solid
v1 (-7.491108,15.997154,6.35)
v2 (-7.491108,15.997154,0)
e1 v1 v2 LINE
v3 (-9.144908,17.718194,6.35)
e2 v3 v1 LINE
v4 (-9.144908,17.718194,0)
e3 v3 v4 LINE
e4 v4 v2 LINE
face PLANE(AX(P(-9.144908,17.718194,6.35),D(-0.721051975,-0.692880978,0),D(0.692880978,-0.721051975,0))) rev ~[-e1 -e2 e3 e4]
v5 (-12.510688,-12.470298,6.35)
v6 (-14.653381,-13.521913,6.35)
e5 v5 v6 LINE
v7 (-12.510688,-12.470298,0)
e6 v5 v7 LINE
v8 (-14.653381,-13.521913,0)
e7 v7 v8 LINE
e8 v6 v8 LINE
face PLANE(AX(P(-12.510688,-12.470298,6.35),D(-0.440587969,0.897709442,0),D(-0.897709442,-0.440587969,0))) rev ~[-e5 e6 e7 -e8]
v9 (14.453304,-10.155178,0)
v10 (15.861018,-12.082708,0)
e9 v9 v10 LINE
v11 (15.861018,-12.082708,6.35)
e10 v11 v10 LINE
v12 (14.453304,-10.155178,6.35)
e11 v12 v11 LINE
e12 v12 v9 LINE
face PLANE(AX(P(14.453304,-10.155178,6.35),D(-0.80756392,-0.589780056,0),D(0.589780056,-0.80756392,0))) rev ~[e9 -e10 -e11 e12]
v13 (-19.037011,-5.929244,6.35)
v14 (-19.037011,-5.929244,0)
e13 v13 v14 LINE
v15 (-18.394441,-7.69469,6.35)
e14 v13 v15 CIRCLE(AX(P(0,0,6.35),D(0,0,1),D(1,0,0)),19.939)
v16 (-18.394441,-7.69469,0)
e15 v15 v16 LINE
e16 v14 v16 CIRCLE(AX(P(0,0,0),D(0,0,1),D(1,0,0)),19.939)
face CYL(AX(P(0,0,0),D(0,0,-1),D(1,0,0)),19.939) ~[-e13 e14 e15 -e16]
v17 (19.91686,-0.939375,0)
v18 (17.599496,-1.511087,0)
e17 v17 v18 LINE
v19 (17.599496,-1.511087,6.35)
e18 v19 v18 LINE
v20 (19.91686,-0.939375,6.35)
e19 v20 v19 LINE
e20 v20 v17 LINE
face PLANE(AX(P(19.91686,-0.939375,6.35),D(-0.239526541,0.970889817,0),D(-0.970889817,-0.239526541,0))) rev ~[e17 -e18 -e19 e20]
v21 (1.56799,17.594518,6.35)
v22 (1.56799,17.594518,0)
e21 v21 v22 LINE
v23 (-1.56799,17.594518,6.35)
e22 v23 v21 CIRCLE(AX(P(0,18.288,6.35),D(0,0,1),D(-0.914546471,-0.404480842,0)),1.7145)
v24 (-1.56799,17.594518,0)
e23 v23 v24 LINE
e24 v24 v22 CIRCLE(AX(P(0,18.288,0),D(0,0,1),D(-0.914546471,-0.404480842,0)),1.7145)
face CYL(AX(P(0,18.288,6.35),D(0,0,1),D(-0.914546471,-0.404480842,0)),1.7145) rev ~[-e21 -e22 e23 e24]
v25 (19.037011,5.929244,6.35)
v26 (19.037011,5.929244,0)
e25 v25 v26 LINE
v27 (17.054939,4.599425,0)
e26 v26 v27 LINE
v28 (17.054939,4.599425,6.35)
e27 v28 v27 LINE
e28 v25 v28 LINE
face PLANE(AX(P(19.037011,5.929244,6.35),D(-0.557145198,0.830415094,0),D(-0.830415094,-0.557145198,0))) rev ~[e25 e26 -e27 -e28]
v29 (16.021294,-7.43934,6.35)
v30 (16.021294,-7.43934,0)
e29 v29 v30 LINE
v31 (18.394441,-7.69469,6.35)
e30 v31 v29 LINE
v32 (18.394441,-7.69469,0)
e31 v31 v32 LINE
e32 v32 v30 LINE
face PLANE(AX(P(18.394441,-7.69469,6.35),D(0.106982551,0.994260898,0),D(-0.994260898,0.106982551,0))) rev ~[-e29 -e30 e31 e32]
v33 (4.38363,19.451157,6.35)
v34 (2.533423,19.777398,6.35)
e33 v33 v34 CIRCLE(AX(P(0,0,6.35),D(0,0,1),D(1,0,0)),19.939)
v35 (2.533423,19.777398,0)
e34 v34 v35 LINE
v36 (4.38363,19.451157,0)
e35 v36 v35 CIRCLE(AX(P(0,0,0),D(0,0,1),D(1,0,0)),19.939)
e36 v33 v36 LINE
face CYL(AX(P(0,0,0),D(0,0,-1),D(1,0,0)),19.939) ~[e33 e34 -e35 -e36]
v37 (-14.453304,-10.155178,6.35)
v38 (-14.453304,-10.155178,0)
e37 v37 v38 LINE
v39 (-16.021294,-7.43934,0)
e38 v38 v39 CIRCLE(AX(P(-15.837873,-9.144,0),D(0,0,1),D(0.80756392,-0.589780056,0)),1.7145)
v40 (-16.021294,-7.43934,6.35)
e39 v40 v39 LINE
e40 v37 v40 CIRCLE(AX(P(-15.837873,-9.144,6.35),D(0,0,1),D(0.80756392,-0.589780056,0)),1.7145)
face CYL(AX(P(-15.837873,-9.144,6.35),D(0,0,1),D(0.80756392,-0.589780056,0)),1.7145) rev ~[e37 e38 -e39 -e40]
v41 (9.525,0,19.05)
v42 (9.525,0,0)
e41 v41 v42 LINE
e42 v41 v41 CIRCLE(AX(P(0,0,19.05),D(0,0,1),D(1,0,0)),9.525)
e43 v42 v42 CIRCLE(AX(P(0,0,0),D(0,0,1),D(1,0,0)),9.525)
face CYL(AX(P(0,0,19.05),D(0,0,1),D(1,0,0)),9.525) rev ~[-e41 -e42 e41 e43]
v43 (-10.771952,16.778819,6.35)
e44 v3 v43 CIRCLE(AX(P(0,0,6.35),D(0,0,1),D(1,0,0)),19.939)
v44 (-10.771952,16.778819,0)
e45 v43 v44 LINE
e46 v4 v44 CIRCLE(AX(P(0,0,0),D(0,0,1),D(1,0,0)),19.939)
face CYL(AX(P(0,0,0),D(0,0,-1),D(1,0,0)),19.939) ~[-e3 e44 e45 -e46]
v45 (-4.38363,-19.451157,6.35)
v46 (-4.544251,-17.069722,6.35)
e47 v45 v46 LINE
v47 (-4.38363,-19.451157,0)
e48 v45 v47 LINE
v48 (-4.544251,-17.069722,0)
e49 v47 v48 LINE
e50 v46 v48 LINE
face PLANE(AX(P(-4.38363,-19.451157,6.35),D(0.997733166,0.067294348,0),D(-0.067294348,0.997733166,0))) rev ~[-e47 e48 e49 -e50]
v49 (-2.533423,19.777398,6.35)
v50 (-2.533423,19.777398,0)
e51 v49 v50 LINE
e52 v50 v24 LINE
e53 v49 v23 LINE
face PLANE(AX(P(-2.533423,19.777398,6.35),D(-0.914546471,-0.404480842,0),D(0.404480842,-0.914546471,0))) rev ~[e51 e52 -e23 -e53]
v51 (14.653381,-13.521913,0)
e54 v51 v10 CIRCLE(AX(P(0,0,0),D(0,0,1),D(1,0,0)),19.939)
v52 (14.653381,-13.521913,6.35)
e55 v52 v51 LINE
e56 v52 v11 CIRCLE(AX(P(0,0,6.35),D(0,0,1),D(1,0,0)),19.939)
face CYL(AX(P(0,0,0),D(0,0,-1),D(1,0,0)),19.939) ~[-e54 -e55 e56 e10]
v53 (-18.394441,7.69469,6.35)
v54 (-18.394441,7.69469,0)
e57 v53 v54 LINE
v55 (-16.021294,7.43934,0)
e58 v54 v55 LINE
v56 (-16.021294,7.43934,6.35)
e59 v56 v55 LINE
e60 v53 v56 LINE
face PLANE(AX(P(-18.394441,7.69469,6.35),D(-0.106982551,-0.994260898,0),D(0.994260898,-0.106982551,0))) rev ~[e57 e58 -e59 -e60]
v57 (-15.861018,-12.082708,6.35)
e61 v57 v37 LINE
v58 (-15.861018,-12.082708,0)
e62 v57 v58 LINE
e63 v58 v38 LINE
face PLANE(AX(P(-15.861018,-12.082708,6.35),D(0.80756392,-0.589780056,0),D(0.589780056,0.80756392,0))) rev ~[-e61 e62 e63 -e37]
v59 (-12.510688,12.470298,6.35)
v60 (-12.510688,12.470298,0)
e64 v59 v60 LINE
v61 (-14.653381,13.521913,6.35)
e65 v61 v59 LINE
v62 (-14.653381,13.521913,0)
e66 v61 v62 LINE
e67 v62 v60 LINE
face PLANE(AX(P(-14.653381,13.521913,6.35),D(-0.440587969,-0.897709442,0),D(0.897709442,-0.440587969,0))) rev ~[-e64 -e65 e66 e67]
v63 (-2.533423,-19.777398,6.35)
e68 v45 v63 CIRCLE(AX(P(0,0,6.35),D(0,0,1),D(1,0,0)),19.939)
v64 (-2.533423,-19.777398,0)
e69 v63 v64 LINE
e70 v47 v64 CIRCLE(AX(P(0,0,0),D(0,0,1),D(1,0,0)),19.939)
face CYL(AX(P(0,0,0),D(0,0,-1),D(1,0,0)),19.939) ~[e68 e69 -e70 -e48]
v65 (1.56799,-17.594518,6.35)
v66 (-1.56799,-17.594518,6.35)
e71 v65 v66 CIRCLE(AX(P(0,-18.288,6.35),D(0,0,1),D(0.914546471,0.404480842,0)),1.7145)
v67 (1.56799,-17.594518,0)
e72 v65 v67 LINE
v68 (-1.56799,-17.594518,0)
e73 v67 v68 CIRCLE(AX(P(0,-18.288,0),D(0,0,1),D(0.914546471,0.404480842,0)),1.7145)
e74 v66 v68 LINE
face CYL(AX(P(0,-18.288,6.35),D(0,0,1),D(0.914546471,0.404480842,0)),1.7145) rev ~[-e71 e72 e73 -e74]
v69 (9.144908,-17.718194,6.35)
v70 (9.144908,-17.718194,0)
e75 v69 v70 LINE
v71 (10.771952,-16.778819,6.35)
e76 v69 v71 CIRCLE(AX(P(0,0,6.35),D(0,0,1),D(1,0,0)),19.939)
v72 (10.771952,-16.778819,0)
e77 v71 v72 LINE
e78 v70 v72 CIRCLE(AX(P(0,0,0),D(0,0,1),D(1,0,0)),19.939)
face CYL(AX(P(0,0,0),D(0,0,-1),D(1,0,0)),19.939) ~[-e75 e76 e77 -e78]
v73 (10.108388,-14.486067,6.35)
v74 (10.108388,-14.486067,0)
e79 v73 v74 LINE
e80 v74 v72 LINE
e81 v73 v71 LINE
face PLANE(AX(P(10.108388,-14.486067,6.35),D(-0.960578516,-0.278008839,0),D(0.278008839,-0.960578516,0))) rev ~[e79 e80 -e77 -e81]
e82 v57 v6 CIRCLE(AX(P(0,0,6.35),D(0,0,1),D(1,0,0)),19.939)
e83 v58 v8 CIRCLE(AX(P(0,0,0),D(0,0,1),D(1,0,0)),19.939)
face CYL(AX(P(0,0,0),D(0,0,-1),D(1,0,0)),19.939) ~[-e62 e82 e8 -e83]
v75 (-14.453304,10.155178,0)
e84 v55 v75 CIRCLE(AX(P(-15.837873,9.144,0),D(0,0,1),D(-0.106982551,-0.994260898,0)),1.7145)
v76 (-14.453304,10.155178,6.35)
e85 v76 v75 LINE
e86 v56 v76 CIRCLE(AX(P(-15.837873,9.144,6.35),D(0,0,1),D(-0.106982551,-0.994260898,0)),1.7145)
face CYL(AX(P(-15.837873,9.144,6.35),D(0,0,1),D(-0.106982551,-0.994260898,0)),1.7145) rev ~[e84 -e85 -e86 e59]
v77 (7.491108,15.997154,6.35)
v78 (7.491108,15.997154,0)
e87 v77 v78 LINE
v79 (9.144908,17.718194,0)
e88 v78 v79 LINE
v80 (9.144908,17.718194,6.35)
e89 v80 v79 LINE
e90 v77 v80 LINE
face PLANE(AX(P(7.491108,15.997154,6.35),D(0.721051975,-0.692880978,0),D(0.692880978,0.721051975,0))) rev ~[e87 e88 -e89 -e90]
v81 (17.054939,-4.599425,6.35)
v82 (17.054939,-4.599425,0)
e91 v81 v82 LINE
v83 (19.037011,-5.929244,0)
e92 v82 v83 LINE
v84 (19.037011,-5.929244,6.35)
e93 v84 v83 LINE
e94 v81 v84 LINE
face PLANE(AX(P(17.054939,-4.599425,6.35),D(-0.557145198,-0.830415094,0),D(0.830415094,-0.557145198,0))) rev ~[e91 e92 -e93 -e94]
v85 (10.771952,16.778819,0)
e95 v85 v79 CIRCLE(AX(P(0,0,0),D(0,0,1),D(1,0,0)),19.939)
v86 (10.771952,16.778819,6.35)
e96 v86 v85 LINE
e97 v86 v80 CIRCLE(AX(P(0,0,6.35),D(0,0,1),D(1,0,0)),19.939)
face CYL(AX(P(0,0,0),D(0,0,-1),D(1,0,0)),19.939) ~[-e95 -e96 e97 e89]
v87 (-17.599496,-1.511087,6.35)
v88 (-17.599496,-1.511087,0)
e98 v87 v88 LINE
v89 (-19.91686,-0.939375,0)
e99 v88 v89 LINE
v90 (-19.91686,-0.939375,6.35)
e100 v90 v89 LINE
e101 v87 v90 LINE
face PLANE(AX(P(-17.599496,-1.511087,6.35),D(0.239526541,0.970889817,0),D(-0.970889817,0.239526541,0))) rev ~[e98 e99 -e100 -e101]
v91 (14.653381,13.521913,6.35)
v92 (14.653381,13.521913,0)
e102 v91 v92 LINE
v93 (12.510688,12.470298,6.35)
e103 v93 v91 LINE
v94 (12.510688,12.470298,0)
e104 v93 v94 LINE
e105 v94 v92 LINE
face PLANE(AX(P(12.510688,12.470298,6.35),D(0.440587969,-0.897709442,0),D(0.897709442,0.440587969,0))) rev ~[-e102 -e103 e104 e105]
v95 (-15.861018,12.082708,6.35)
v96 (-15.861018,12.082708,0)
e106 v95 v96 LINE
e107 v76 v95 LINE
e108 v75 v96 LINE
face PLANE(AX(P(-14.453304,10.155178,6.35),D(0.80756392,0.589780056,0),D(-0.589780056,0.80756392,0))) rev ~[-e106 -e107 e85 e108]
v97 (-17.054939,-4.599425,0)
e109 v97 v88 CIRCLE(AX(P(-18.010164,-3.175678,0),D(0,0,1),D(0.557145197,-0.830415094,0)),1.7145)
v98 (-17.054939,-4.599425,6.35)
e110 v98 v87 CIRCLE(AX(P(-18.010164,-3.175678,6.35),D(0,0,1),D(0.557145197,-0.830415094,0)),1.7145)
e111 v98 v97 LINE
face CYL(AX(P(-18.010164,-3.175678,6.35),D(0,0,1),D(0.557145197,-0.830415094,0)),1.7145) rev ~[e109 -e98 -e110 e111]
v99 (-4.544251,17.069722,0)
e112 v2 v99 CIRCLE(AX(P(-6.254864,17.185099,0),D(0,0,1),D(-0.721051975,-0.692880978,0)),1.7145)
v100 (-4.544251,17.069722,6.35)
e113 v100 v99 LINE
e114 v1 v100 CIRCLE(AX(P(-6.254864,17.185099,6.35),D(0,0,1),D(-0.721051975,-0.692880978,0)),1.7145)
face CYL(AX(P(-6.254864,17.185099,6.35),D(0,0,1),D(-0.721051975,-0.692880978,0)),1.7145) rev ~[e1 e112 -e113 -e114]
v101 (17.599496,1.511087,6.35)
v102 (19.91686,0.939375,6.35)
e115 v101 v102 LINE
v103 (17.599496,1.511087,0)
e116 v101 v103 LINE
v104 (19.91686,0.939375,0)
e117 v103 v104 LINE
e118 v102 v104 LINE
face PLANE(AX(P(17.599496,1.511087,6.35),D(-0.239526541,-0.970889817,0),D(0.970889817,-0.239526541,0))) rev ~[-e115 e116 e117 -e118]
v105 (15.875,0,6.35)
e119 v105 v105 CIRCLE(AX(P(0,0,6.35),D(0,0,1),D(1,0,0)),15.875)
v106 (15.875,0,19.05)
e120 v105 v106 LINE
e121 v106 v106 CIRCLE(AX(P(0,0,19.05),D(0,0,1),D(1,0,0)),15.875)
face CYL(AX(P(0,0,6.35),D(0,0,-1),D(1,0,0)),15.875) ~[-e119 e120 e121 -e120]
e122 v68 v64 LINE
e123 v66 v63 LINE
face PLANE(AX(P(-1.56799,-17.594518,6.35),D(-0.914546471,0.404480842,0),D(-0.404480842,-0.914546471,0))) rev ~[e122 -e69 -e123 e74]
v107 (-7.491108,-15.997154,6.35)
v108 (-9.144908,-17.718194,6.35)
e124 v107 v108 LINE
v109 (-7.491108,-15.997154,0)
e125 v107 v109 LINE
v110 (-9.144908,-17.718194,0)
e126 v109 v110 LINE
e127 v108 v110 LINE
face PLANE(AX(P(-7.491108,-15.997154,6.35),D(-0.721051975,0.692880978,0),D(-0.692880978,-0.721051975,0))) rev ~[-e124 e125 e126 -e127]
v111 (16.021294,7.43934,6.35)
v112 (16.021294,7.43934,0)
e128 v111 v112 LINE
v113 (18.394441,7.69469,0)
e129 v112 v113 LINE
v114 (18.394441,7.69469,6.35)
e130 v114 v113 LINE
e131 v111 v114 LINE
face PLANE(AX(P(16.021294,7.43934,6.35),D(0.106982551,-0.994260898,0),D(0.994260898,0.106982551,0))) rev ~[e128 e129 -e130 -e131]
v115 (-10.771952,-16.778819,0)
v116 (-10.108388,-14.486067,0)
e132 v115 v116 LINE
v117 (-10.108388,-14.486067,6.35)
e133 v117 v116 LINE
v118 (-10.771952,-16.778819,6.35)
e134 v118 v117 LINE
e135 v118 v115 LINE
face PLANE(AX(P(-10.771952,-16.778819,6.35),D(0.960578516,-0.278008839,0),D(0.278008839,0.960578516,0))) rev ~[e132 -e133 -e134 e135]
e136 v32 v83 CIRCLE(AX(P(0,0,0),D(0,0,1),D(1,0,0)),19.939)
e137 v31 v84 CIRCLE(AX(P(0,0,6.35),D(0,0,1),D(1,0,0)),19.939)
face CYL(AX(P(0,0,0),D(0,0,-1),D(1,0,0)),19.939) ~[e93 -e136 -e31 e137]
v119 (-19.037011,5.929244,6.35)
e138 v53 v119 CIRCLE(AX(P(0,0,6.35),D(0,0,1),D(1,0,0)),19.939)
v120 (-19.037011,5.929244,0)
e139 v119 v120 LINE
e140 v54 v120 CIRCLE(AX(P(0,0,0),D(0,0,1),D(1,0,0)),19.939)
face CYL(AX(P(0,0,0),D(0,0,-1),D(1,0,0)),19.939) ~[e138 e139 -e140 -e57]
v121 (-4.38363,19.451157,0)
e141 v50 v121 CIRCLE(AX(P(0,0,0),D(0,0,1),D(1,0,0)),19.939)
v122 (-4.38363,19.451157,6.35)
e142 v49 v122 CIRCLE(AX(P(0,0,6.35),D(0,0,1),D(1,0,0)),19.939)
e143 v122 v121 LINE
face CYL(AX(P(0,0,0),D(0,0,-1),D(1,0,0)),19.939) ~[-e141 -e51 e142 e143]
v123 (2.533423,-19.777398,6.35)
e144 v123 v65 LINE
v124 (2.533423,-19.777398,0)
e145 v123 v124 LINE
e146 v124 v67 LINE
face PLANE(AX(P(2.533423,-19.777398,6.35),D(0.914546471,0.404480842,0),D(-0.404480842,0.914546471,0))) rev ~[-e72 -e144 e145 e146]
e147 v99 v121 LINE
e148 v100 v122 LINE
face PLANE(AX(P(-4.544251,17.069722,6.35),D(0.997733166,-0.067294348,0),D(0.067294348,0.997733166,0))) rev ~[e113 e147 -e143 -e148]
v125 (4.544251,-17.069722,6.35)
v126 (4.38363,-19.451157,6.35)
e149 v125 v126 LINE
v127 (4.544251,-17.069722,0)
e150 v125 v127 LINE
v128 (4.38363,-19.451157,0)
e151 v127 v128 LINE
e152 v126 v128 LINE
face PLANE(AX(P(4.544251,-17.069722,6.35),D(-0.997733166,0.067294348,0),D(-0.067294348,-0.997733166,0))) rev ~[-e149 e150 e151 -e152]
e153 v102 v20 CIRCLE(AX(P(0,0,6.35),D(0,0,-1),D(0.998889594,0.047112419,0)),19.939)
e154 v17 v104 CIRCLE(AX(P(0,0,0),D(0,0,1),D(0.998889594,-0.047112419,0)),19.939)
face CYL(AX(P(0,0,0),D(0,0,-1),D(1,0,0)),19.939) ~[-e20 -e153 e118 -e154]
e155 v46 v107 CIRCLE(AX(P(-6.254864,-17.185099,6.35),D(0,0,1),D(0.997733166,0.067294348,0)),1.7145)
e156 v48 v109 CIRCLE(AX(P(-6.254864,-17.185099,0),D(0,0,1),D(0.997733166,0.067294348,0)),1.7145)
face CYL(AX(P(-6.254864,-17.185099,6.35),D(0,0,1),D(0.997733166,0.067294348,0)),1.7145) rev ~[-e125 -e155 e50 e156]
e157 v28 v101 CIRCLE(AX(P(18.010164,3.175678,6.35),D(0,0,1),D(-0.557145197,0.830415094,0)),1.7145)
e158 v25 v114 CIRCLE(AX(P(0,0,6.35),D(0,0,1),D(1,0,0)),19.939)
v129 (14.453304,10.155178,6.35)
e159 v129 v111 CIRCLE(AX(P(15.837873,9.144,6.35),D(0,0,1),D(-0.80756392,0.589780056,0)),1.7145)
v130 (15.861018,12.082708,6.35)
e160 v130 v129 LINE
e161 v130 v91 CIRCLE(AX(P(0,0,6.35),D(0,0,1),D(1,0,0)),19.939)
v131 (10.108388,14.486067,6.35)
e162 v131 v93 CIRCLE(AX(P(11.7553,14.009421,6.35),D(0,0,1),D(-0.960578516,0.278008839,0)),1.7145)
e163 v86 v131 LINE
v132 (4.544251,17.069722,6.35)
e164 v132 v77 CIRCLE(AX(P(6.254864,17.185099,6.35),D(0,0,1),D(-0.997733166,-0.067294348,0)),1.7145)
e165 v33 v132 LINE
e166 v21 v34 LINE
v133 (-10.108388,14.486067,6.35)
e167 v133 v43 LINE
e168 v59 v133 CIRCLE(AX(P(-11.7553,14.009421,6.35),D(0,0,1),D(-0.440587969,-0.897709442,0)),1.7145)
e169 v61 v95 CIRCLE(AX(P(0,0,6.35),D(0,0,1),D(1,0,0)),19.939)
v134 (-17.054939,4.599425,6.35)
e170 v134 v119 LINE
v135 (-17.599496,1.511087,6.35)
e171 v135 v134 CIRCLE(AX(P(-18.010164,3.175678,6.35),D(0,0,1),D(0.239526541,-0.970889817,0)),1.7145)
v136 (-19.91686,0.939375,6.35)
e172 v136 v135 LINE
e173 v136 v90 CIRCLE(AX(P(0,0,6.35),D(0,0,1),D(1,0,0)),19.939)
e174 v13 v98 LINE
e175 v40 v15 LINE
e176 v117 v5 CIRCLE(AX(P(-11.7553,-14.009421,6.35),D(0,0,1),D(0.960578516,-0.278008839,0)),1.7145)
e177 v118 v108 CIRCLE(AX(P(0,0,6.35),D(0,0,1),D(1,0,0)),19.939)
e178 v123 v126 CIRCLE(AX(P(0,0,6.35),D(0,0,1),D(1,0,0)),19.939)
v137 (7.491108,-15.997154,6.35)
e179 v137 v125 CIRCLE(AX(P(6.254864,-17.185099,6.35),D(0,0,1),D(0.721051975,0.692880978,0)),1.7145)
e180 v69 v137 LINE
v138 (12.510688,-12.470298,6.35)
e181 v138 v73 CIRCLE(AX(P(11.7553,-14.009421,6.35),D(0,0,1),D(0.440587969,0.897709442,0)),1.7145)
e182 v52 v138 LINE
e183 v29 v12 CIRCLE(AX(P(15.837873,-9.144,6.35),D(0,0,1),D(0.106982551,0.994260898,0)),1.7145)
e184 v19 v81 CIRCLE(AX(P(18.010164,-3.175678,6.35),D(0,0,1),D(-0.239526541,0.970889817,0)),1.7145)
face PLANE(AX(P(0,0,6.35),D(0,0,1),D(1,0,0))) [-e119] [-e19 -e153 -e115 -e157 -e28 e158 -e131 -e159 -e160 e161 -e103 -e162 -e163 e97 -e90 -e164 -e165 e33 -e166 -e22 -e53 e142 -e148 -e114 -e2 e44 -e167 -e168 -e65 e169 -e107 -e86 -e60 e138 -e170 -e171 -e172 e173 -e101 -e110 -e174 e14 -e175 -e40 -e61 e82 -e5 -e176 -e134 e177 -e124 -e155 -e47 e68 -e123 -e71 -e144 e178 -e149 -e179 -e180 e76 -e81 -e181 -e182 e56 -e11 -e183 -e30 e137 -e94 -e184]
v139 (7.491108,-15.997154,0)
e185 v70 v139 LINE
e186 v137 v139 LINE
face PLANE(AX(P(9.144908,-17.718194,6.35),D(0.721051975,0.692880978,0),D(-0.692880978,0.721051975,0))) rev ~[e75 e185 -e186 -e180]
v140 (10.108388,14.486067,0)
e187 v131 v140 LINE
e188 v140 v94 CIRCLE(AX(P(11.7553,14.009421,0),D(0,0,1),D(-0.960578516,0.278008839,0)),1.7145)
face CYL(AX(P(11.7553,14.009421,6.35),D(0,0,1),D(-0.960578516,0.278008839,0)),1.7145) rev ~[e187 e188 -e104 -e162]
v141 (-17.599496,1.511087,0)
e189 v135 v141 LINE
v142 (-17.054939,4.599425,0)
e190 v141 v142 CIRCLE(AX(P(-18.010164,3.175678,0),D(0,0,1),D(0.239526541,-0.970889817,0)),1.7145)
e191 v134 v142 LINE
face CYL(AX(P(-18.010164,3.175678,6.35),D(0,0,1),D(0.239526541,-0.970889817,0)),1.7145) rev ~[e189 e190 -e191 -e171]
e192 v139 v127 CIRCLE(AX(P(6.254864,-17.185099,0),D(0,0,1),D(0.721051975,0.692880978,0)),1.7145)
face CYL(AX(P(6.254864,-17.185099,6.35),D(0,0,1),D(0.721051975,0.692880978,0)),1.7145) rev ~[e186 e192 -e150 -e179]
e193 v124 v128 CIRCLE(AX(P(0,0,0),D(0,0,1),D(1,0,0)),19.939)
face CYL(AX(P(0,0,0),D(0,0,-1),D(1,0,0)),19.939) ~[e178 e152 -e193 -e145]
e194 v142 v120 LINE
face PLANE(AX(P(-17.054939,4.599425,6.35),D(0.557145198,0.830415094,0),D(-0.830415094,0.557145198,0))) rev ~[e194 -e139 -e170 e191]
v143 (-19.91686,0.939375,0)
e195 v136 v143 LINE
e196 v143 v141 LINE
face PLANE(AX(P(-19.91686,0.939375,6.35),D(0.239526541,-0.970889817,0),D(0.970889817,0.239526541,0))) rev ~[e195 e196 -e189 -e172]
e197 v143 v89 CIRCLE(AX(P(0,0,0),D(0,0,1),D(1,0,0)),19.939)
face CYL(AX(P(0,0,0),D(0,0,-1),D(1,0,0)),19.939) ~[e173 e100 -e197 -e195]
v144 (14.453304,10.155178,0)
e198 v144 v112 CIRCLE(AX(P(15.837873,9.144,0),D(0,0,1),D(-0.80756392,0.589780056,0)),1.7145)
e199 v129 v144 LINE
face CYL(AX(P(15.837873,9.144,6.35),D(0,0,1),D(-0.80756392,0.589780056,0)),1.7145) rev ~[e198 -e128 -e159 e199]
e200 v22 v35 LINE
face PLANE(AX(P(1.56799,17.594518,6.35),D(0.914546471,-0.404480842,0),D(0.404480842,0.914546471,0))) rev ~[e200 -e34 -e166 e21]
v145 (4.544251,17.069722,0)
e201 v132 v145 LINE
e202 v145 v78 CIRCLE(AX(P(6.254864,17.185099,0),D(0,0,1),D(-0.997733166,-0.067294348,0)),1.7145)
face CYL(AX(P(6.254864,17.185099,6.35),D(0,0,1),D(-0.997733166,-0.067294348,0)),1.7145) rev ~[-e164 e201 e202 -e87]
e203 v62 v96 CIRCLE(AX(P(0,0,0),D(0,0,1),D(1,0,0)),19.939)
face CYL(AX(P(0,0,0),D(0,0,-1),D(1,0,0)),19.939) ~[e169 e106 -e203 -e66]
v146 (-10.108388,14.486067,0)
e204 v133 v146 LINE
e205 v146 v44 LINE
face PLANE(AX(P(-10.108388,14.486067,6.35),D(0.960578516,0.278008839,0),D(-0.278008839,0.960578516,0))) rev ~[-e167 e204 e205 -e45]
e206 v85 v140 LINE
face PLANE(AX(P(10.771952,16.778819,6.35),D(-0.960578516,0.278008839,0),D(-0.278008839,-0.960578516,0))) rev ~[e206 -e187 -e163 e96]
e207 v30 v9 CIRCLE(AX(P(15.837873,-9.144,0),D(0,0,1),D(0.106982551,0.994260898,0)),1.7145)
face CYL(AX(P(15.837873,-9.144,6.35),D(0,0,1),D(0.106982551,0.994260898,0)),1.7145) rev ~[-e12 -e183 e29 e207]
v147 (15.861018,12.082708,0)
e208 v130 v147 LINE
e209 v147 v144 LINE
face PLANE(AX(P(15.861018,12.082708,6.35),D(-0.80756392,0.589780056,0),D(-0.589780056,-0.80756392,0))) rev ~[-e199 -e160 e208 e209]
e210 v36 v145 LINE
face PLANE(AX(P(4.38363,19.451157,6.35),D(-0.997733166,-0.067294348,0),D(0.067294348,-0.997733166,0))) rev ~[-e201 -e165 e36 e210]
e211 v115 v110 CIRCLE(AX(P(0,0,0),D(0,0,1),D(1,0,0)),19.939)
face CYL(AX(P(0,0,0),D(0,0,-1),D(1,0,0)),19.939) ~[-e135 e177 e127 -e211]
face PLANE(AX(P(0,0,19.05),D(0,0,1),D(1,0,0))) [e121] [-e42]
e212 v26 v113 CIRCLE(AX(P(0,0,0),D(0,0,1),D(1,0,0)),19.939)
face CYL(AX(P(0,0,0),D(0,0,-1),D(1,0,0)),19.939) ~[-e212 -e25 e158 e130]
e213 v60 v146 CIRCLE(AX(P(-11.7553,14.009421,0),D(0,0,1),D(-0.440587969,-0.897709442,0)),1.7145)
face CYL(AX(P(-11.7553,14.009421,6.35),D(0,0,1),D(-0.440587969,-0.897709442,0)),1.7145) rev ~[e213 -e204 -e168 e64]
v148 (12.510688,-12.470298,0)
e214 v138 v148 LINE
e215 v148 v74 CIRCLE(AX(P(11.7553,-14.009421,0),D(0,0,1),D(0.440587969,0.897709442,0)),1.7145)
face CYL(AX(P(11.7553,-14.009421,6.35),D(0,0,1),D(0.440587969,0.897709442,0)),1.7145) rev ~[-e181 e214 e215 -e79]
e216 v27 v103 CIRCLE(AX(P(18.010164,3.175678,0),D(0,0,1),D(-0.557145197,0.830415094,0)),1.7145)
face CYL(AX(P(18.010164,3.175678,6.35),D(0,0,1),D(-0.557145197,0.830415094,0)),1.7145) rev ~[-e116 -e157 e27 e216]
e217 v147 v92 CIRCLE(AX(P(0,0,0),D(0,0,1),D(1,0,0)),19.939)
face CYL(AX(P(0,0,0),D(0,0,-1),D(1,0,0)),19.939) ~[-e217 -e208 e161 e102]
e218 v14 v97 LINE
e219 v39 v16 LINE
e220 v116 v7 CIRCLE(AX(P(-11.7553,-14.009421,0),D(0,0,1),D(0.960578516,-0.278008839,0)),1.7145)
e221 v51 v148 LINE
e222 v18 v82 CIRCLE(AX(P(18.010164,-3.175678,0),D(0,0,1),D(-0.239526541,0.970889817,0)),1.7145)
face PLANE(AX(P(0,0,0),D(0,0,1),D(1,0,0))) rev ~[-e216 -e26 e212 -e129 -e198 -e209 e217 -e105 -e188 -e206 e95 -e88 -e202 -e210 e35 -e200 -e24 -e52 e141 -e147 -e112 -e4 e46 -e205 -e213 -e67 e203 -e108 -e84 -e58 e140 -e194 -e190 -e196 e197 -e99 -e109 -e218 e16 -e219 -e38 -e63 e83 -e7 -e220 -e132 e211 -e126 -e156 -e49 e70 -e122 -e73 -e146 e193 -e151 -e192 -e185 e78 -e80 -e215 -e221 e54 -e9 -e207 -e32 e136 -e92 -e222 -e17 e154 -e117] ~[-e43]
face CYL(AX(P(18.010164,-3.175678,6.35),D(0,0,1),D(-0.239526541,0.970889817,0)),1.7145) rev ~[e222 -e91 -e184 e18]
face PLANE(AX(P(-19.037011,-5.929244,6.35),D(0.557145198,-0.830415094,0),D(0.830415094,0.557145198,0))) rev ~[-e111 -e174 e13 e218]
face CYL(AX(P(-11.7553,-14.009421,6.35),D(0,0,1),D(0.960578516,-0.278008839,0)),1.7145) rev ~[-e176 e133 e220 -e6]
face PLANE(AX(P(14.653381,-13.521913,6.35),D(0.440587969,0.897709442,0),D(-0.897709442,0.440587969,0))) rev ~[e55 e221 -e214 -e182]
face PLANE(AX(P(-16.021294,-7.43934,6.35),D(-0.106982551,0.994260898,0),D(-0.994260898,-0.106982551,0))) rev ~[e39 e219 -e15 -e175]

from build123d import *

# Parameters (mm, degrees)
F0_R     = 19.939
F1_DEPTH = 6.35
F2_R     = 15.875
F3_DEPTH = 12.7
F4_R     = 9.525
F5_DEPTH = 25.4
F7_DEPTH = 25.4


with BuildPart() as f1:
    # F0 (on Top) → F1 (new body)
    with BuildSketch(Plane.XY):
        Circle(F0_R)
    extrude(amount=F1_DEPTH)

    # F2 (on face) → F3 (join)
    with BuildSketch(Plane.XY.offset(6.35)):
        Circle(F2_R)
    extrude(amount=F3_DEPTH)

    # F4 (on face) → F5 (cut)
    with BuildSketch(Plane.XY.offset(19.05)):
        Circle(F4_R)
    extrude(amount=-F5_DEPTH, mode=Mode.SUBTRACT)

    # F6 (on face) → F7 (cut)
    with BuildSketch(Plane.XY.offset(6.35)):
        with BuildLine():
            Line((-2.5334230713, 19.777398427), (-1.5679899251, 17.5945175959))
            ThreePointArc((-1.5679899251, 17.5945175959), (0, 16.5735), (1.5679899251, 17.5945175959))
            Line((1.5679899251, 17.5945175959), (2.5334230713, 19.777398427))
            ThreePointArc((2.5334230713, 19.777398427), (0, 19.939), (-2.5334230713, 19.777398427))
        make_face()
        with BuildLine():
            ThreePointArc((9.1449076101, 17.7181936383), (6.8195396378, 18.7365311659), (4.3836296792, 19.4511570822))
            Line((4.3836296792, 19.4511570822), (4.5442508678, 17.0697224901))
            ThreePointArc((4.5442508678, 17.0697224901), (5.6684708454, 15.5739956506), (7.491107992, 15.9971542122))
            Line((7.491107992, 15.9971542122), (9.1449076101, 17.7181936383))
        make_face()
        with BuildLine():
            ThreePointArc((14.6533813266, 13.521913204), (12.8165421495, 15.2741601513), (10.7719519949, 16.7788191247))
            Line((10.7719519949, 16.7788191247), (10.1083879401, 14.4860669297))
            ThreePointArc((10.1083879401, 14.4860669297), (10.6532404491, 12.696037578), (12.5106878781, 12.4702979377))
            Line((12.5106878781, 12.4702979377), (14.6533813266, 13.521913204))
        make_face()
        with BuildLine():
            ThreePointArc((18.3944409942, 7.6946904752), (17.2676805261, 9.9695), (15.8610179229, 12.0827079518))
            Line((15.8610179229, 12.0827079518), (14.4533042428, 10.155177906))
            ThreePointArc((14.4533042428, 10.155177906), (14.3530720296, 8.28675), (16.0212941679, 7.4393396899))
            Line((16.0212941679, 7.4393396899), (18.3944409942, 7.6946904752))
        make_face()
        with BuildLine():
            ThreePointArc((19.9168596049, 0.9393745136), (19.6360817873, 3.4623710145), (19.0370110058, 5.9292438781))
            Line((19.0370110058, 5.9292438781), (17.0549387459, 4.5994245523))
            ThreePointArc((17.0549387459, 4.5994245523), (16.3217112945, 2.8779580726), (17.5994959321, 1.5110872826))
            Line((17.5994959321, 1.5110872826), (19.9168596049, 0.9393745136))
        make_face()
        with BuildLine():
            ThreePointArc((19.0370110058, -5.9292438781), (19.6360817873, -3.4623710145), (19.9168596049, -0.9393745136))
            Line((19.9168596049, -0.9393745136), (17.5994959321, -1.5110872826))
            ThreePointArc((17.5994959321, -1.5110872826), (16.3217112945, -2.8779580726), (17.0549387459, -4.5994245523))
            Line((17.0549387459, -4.5994245523), (19.0370110058, -5.9292438781))
        make_face()
        with BuildLine():
            ThreePointArc((15.8610179229, -12.0827079518), (17.2676805261, -9.9695), (18.3944409942, -7.6946904752))
            Line((18.3944409942, -7.6946904752), (16.0212941679, -7.4393396899))
            ThreePointArc((16.0212941679, -7.4393396899), (14.3530720296, -8.28675), (14.4533042428, -10.155177906))
            Line((14.4533042428, -10.155177906), (15.8610179229, -12.0827079518))
        make_face()
        with BuildLine():
            ThreePointArc((10.7719519949, -16.7788191247), (12.8165421495, -15.2741601513), (14.6533813266, -13.521913204))
            Line((14.6533813266, -13.521913204), (12.5106878781, -12.4702979377))
            ThreePointArc((12.5106878781, -12.4702979377), (10.6532404491, -12.696037578), (10.1083879401, -14.4860669297))
            Line((10.1083879401, -14.4860669297), (10.7719519949, -16.7788191247))
        make_face()
        with BuildLine():
            ThreePointArc((4.3836296792, -19.4511570822), (6.8195396378, -18.7365311659), (9.1449076101, -17.7181936383))
            Line((9.1449076101, -17.7181936383), (7.491107992, -15.9971542122))
            ThreePointArc((7.491107992, -15.9971542122), (5.6684708454, -15.5739956506), (4.5442508678, -17.0697224901))
            Line((4.5442508678, -17.0697224901), (4.3836296792, -19.4511570822))
        make_face()
        with BuildLine():
            Line((-1.5679899251, -17.5945175959), (-2.5334230713, -19.777398427))
            ThreePointArc((-2.5334230713, -19.777398427), (0, -19.939), (2.5334230713, -19.777398427))
            Line((2.5334230713, -19.777398427), (1.5679899251, -17.5945175959))
            ThreePointArc((1.5679899251, -17.5945175959), (0, -16.5735), (-1.5679899251, -17.5945175959))
        make_face()
        with BuildLine():
            Line((-7.491107992, -15.9971542122), (-9.1449076101, -17.7181936383))
            ThreePointArc((-9.1449076101, -17.7181936383), (-6.8195396378, -18.7365311659), (-4.3836296792, -19.4511570822))
            Line((-4.3836296792, -19.4511570822), (-4.5442508678, -17.0697224901))
            ThreePointArc((-4.5442508678, -17.0697224901), (-5.6684708454, -15.5739956506), (-7.491107992, -15.9971542122))
        make_face()
        with BuildLine():
            Line((-12.5106878781, -12.4702979377), (-14.6533813266, -13.521913204))
            ThreePointArc((-14.6533813266, -13.521913204), (-12.8165421495, -15.2741601513), (-10.7719519949, -16.7788191247))
            Line((-10.7719519949, -16.7788191247), (-10.1083879401, -14.4860669297))
            ThreePointArc((-10.1083879401, -14.4860669297), (-10.6532404491, -12.696037578), (-12.5106878781, -12.4702979377))
        make_face()
        with BuildLine():
            Line((-16.0212941679, -7.4393396899), (-18.3944409942, -7.6946904752))
            ThreePointArc((-18.3944409942, -7.6946904752), (-17.2676805261, -9.9695), (-15.8610179229, -12.0827079518))
            Line((-15.8610179229, -12.0827079518), (-14.4533042428, -10.155177906))
            ThreePointArc((-14.4533042428, -10.155177906), (-14.3530720296, -8.28675), (-16.0212941679, -7.4393396899))
        make_face()
        with BuildLine():
            Line((-17.5994959321, -1.5110872826), (-19.9168596049, -0.9393745136))
            ThreePointArc((-19.9168596049, -0.9393745136), (-19.6360817873, -3.4623710145), (-19.0370110058, -5.9292438781))
            Line((-19.0370110058, -5.9292438781), (-17.0549387459, -4.5994245523))
            ThreePointArc((-17.0549387459, -4.5994245523), (-16.3217112945, -2.8779580726), (-17.5994959321, -1.5110872826))
        make_face()
        with BuildLine():
            Line((-17.0549387459, 4.5994245523), (-19.0370110058, 5.9292438781))
            ThreePointArc((-19.0370110058, 5.9292438781), (-19.6360817873, 3.4623710145), (-19.9168596049, 0.9393745136))
            Line((-19.9168596049, 0.9393745136), (-17.5994959321, 1.5110872826))
            ThreePointArc((-17.5994959321, 1.5110872826), (-16.3217112945, 2.8779580726), (-17.0549387459, 4.5994245523))
        make_face()
        with BuildLine():
            Line((-14.4533042428, 10.155177906), (-15.8610179229, 12.0827079518))
            ThreePointArc((-15.8610179229, 12.0827079518), (-17.2676805261, 9.9695), (-18.3944409942, 7.6946904752))
            Line((-18.3944409942, 7.6946904752), (-16.0212941679, 7.4393396899))
            ThreePointArc((-16.0212941679, 7.4393396899), (-14.3530720296, 8.28675), (-14.4533042428, 10.155177906))
        make_face()
        with BuildLine():
            Line((-10.1083879401, 14.4860669297), (-10.7719519949, 16.7788191247))
            ThreePointArc((-10.7719519949, 16.7788191247), (-12.8165421495, 15.2741601513), (-14.6533813266, 13.521913204))
            Line((-14.6533813266, 13.521913204), (-12.5106878781, 12.4702979377))
            ThreePointArc((-12.5106878781, 12.4702979377), (-10.6532404491, 12.696037578), (-10.1083879401, 14.4860669297))
        make_face()
        with BuildLine():
            Line((-4.5442508678, 17.0697224901), (-4.3836296792, 19.4511570822))
            ThreePointArc((-4.3836296792, 19.4511570822), (-6.8195396378, 18.7365311659), (-9.1449076101, 17.7181936383))
            Line((-9.1449076101, 17.7181936383), (-7.491107992, 15.9971542122))
            ThreePointArc((-7.491107992, 15.9971542122), (-5.6684708454, 15.5739956506), (-4.5442508678, 17.0697224901))
        make_face()
    extrude(amount=-F7_DEPTH, mode=Mode.SUBTRACT)


solid = f1.part
